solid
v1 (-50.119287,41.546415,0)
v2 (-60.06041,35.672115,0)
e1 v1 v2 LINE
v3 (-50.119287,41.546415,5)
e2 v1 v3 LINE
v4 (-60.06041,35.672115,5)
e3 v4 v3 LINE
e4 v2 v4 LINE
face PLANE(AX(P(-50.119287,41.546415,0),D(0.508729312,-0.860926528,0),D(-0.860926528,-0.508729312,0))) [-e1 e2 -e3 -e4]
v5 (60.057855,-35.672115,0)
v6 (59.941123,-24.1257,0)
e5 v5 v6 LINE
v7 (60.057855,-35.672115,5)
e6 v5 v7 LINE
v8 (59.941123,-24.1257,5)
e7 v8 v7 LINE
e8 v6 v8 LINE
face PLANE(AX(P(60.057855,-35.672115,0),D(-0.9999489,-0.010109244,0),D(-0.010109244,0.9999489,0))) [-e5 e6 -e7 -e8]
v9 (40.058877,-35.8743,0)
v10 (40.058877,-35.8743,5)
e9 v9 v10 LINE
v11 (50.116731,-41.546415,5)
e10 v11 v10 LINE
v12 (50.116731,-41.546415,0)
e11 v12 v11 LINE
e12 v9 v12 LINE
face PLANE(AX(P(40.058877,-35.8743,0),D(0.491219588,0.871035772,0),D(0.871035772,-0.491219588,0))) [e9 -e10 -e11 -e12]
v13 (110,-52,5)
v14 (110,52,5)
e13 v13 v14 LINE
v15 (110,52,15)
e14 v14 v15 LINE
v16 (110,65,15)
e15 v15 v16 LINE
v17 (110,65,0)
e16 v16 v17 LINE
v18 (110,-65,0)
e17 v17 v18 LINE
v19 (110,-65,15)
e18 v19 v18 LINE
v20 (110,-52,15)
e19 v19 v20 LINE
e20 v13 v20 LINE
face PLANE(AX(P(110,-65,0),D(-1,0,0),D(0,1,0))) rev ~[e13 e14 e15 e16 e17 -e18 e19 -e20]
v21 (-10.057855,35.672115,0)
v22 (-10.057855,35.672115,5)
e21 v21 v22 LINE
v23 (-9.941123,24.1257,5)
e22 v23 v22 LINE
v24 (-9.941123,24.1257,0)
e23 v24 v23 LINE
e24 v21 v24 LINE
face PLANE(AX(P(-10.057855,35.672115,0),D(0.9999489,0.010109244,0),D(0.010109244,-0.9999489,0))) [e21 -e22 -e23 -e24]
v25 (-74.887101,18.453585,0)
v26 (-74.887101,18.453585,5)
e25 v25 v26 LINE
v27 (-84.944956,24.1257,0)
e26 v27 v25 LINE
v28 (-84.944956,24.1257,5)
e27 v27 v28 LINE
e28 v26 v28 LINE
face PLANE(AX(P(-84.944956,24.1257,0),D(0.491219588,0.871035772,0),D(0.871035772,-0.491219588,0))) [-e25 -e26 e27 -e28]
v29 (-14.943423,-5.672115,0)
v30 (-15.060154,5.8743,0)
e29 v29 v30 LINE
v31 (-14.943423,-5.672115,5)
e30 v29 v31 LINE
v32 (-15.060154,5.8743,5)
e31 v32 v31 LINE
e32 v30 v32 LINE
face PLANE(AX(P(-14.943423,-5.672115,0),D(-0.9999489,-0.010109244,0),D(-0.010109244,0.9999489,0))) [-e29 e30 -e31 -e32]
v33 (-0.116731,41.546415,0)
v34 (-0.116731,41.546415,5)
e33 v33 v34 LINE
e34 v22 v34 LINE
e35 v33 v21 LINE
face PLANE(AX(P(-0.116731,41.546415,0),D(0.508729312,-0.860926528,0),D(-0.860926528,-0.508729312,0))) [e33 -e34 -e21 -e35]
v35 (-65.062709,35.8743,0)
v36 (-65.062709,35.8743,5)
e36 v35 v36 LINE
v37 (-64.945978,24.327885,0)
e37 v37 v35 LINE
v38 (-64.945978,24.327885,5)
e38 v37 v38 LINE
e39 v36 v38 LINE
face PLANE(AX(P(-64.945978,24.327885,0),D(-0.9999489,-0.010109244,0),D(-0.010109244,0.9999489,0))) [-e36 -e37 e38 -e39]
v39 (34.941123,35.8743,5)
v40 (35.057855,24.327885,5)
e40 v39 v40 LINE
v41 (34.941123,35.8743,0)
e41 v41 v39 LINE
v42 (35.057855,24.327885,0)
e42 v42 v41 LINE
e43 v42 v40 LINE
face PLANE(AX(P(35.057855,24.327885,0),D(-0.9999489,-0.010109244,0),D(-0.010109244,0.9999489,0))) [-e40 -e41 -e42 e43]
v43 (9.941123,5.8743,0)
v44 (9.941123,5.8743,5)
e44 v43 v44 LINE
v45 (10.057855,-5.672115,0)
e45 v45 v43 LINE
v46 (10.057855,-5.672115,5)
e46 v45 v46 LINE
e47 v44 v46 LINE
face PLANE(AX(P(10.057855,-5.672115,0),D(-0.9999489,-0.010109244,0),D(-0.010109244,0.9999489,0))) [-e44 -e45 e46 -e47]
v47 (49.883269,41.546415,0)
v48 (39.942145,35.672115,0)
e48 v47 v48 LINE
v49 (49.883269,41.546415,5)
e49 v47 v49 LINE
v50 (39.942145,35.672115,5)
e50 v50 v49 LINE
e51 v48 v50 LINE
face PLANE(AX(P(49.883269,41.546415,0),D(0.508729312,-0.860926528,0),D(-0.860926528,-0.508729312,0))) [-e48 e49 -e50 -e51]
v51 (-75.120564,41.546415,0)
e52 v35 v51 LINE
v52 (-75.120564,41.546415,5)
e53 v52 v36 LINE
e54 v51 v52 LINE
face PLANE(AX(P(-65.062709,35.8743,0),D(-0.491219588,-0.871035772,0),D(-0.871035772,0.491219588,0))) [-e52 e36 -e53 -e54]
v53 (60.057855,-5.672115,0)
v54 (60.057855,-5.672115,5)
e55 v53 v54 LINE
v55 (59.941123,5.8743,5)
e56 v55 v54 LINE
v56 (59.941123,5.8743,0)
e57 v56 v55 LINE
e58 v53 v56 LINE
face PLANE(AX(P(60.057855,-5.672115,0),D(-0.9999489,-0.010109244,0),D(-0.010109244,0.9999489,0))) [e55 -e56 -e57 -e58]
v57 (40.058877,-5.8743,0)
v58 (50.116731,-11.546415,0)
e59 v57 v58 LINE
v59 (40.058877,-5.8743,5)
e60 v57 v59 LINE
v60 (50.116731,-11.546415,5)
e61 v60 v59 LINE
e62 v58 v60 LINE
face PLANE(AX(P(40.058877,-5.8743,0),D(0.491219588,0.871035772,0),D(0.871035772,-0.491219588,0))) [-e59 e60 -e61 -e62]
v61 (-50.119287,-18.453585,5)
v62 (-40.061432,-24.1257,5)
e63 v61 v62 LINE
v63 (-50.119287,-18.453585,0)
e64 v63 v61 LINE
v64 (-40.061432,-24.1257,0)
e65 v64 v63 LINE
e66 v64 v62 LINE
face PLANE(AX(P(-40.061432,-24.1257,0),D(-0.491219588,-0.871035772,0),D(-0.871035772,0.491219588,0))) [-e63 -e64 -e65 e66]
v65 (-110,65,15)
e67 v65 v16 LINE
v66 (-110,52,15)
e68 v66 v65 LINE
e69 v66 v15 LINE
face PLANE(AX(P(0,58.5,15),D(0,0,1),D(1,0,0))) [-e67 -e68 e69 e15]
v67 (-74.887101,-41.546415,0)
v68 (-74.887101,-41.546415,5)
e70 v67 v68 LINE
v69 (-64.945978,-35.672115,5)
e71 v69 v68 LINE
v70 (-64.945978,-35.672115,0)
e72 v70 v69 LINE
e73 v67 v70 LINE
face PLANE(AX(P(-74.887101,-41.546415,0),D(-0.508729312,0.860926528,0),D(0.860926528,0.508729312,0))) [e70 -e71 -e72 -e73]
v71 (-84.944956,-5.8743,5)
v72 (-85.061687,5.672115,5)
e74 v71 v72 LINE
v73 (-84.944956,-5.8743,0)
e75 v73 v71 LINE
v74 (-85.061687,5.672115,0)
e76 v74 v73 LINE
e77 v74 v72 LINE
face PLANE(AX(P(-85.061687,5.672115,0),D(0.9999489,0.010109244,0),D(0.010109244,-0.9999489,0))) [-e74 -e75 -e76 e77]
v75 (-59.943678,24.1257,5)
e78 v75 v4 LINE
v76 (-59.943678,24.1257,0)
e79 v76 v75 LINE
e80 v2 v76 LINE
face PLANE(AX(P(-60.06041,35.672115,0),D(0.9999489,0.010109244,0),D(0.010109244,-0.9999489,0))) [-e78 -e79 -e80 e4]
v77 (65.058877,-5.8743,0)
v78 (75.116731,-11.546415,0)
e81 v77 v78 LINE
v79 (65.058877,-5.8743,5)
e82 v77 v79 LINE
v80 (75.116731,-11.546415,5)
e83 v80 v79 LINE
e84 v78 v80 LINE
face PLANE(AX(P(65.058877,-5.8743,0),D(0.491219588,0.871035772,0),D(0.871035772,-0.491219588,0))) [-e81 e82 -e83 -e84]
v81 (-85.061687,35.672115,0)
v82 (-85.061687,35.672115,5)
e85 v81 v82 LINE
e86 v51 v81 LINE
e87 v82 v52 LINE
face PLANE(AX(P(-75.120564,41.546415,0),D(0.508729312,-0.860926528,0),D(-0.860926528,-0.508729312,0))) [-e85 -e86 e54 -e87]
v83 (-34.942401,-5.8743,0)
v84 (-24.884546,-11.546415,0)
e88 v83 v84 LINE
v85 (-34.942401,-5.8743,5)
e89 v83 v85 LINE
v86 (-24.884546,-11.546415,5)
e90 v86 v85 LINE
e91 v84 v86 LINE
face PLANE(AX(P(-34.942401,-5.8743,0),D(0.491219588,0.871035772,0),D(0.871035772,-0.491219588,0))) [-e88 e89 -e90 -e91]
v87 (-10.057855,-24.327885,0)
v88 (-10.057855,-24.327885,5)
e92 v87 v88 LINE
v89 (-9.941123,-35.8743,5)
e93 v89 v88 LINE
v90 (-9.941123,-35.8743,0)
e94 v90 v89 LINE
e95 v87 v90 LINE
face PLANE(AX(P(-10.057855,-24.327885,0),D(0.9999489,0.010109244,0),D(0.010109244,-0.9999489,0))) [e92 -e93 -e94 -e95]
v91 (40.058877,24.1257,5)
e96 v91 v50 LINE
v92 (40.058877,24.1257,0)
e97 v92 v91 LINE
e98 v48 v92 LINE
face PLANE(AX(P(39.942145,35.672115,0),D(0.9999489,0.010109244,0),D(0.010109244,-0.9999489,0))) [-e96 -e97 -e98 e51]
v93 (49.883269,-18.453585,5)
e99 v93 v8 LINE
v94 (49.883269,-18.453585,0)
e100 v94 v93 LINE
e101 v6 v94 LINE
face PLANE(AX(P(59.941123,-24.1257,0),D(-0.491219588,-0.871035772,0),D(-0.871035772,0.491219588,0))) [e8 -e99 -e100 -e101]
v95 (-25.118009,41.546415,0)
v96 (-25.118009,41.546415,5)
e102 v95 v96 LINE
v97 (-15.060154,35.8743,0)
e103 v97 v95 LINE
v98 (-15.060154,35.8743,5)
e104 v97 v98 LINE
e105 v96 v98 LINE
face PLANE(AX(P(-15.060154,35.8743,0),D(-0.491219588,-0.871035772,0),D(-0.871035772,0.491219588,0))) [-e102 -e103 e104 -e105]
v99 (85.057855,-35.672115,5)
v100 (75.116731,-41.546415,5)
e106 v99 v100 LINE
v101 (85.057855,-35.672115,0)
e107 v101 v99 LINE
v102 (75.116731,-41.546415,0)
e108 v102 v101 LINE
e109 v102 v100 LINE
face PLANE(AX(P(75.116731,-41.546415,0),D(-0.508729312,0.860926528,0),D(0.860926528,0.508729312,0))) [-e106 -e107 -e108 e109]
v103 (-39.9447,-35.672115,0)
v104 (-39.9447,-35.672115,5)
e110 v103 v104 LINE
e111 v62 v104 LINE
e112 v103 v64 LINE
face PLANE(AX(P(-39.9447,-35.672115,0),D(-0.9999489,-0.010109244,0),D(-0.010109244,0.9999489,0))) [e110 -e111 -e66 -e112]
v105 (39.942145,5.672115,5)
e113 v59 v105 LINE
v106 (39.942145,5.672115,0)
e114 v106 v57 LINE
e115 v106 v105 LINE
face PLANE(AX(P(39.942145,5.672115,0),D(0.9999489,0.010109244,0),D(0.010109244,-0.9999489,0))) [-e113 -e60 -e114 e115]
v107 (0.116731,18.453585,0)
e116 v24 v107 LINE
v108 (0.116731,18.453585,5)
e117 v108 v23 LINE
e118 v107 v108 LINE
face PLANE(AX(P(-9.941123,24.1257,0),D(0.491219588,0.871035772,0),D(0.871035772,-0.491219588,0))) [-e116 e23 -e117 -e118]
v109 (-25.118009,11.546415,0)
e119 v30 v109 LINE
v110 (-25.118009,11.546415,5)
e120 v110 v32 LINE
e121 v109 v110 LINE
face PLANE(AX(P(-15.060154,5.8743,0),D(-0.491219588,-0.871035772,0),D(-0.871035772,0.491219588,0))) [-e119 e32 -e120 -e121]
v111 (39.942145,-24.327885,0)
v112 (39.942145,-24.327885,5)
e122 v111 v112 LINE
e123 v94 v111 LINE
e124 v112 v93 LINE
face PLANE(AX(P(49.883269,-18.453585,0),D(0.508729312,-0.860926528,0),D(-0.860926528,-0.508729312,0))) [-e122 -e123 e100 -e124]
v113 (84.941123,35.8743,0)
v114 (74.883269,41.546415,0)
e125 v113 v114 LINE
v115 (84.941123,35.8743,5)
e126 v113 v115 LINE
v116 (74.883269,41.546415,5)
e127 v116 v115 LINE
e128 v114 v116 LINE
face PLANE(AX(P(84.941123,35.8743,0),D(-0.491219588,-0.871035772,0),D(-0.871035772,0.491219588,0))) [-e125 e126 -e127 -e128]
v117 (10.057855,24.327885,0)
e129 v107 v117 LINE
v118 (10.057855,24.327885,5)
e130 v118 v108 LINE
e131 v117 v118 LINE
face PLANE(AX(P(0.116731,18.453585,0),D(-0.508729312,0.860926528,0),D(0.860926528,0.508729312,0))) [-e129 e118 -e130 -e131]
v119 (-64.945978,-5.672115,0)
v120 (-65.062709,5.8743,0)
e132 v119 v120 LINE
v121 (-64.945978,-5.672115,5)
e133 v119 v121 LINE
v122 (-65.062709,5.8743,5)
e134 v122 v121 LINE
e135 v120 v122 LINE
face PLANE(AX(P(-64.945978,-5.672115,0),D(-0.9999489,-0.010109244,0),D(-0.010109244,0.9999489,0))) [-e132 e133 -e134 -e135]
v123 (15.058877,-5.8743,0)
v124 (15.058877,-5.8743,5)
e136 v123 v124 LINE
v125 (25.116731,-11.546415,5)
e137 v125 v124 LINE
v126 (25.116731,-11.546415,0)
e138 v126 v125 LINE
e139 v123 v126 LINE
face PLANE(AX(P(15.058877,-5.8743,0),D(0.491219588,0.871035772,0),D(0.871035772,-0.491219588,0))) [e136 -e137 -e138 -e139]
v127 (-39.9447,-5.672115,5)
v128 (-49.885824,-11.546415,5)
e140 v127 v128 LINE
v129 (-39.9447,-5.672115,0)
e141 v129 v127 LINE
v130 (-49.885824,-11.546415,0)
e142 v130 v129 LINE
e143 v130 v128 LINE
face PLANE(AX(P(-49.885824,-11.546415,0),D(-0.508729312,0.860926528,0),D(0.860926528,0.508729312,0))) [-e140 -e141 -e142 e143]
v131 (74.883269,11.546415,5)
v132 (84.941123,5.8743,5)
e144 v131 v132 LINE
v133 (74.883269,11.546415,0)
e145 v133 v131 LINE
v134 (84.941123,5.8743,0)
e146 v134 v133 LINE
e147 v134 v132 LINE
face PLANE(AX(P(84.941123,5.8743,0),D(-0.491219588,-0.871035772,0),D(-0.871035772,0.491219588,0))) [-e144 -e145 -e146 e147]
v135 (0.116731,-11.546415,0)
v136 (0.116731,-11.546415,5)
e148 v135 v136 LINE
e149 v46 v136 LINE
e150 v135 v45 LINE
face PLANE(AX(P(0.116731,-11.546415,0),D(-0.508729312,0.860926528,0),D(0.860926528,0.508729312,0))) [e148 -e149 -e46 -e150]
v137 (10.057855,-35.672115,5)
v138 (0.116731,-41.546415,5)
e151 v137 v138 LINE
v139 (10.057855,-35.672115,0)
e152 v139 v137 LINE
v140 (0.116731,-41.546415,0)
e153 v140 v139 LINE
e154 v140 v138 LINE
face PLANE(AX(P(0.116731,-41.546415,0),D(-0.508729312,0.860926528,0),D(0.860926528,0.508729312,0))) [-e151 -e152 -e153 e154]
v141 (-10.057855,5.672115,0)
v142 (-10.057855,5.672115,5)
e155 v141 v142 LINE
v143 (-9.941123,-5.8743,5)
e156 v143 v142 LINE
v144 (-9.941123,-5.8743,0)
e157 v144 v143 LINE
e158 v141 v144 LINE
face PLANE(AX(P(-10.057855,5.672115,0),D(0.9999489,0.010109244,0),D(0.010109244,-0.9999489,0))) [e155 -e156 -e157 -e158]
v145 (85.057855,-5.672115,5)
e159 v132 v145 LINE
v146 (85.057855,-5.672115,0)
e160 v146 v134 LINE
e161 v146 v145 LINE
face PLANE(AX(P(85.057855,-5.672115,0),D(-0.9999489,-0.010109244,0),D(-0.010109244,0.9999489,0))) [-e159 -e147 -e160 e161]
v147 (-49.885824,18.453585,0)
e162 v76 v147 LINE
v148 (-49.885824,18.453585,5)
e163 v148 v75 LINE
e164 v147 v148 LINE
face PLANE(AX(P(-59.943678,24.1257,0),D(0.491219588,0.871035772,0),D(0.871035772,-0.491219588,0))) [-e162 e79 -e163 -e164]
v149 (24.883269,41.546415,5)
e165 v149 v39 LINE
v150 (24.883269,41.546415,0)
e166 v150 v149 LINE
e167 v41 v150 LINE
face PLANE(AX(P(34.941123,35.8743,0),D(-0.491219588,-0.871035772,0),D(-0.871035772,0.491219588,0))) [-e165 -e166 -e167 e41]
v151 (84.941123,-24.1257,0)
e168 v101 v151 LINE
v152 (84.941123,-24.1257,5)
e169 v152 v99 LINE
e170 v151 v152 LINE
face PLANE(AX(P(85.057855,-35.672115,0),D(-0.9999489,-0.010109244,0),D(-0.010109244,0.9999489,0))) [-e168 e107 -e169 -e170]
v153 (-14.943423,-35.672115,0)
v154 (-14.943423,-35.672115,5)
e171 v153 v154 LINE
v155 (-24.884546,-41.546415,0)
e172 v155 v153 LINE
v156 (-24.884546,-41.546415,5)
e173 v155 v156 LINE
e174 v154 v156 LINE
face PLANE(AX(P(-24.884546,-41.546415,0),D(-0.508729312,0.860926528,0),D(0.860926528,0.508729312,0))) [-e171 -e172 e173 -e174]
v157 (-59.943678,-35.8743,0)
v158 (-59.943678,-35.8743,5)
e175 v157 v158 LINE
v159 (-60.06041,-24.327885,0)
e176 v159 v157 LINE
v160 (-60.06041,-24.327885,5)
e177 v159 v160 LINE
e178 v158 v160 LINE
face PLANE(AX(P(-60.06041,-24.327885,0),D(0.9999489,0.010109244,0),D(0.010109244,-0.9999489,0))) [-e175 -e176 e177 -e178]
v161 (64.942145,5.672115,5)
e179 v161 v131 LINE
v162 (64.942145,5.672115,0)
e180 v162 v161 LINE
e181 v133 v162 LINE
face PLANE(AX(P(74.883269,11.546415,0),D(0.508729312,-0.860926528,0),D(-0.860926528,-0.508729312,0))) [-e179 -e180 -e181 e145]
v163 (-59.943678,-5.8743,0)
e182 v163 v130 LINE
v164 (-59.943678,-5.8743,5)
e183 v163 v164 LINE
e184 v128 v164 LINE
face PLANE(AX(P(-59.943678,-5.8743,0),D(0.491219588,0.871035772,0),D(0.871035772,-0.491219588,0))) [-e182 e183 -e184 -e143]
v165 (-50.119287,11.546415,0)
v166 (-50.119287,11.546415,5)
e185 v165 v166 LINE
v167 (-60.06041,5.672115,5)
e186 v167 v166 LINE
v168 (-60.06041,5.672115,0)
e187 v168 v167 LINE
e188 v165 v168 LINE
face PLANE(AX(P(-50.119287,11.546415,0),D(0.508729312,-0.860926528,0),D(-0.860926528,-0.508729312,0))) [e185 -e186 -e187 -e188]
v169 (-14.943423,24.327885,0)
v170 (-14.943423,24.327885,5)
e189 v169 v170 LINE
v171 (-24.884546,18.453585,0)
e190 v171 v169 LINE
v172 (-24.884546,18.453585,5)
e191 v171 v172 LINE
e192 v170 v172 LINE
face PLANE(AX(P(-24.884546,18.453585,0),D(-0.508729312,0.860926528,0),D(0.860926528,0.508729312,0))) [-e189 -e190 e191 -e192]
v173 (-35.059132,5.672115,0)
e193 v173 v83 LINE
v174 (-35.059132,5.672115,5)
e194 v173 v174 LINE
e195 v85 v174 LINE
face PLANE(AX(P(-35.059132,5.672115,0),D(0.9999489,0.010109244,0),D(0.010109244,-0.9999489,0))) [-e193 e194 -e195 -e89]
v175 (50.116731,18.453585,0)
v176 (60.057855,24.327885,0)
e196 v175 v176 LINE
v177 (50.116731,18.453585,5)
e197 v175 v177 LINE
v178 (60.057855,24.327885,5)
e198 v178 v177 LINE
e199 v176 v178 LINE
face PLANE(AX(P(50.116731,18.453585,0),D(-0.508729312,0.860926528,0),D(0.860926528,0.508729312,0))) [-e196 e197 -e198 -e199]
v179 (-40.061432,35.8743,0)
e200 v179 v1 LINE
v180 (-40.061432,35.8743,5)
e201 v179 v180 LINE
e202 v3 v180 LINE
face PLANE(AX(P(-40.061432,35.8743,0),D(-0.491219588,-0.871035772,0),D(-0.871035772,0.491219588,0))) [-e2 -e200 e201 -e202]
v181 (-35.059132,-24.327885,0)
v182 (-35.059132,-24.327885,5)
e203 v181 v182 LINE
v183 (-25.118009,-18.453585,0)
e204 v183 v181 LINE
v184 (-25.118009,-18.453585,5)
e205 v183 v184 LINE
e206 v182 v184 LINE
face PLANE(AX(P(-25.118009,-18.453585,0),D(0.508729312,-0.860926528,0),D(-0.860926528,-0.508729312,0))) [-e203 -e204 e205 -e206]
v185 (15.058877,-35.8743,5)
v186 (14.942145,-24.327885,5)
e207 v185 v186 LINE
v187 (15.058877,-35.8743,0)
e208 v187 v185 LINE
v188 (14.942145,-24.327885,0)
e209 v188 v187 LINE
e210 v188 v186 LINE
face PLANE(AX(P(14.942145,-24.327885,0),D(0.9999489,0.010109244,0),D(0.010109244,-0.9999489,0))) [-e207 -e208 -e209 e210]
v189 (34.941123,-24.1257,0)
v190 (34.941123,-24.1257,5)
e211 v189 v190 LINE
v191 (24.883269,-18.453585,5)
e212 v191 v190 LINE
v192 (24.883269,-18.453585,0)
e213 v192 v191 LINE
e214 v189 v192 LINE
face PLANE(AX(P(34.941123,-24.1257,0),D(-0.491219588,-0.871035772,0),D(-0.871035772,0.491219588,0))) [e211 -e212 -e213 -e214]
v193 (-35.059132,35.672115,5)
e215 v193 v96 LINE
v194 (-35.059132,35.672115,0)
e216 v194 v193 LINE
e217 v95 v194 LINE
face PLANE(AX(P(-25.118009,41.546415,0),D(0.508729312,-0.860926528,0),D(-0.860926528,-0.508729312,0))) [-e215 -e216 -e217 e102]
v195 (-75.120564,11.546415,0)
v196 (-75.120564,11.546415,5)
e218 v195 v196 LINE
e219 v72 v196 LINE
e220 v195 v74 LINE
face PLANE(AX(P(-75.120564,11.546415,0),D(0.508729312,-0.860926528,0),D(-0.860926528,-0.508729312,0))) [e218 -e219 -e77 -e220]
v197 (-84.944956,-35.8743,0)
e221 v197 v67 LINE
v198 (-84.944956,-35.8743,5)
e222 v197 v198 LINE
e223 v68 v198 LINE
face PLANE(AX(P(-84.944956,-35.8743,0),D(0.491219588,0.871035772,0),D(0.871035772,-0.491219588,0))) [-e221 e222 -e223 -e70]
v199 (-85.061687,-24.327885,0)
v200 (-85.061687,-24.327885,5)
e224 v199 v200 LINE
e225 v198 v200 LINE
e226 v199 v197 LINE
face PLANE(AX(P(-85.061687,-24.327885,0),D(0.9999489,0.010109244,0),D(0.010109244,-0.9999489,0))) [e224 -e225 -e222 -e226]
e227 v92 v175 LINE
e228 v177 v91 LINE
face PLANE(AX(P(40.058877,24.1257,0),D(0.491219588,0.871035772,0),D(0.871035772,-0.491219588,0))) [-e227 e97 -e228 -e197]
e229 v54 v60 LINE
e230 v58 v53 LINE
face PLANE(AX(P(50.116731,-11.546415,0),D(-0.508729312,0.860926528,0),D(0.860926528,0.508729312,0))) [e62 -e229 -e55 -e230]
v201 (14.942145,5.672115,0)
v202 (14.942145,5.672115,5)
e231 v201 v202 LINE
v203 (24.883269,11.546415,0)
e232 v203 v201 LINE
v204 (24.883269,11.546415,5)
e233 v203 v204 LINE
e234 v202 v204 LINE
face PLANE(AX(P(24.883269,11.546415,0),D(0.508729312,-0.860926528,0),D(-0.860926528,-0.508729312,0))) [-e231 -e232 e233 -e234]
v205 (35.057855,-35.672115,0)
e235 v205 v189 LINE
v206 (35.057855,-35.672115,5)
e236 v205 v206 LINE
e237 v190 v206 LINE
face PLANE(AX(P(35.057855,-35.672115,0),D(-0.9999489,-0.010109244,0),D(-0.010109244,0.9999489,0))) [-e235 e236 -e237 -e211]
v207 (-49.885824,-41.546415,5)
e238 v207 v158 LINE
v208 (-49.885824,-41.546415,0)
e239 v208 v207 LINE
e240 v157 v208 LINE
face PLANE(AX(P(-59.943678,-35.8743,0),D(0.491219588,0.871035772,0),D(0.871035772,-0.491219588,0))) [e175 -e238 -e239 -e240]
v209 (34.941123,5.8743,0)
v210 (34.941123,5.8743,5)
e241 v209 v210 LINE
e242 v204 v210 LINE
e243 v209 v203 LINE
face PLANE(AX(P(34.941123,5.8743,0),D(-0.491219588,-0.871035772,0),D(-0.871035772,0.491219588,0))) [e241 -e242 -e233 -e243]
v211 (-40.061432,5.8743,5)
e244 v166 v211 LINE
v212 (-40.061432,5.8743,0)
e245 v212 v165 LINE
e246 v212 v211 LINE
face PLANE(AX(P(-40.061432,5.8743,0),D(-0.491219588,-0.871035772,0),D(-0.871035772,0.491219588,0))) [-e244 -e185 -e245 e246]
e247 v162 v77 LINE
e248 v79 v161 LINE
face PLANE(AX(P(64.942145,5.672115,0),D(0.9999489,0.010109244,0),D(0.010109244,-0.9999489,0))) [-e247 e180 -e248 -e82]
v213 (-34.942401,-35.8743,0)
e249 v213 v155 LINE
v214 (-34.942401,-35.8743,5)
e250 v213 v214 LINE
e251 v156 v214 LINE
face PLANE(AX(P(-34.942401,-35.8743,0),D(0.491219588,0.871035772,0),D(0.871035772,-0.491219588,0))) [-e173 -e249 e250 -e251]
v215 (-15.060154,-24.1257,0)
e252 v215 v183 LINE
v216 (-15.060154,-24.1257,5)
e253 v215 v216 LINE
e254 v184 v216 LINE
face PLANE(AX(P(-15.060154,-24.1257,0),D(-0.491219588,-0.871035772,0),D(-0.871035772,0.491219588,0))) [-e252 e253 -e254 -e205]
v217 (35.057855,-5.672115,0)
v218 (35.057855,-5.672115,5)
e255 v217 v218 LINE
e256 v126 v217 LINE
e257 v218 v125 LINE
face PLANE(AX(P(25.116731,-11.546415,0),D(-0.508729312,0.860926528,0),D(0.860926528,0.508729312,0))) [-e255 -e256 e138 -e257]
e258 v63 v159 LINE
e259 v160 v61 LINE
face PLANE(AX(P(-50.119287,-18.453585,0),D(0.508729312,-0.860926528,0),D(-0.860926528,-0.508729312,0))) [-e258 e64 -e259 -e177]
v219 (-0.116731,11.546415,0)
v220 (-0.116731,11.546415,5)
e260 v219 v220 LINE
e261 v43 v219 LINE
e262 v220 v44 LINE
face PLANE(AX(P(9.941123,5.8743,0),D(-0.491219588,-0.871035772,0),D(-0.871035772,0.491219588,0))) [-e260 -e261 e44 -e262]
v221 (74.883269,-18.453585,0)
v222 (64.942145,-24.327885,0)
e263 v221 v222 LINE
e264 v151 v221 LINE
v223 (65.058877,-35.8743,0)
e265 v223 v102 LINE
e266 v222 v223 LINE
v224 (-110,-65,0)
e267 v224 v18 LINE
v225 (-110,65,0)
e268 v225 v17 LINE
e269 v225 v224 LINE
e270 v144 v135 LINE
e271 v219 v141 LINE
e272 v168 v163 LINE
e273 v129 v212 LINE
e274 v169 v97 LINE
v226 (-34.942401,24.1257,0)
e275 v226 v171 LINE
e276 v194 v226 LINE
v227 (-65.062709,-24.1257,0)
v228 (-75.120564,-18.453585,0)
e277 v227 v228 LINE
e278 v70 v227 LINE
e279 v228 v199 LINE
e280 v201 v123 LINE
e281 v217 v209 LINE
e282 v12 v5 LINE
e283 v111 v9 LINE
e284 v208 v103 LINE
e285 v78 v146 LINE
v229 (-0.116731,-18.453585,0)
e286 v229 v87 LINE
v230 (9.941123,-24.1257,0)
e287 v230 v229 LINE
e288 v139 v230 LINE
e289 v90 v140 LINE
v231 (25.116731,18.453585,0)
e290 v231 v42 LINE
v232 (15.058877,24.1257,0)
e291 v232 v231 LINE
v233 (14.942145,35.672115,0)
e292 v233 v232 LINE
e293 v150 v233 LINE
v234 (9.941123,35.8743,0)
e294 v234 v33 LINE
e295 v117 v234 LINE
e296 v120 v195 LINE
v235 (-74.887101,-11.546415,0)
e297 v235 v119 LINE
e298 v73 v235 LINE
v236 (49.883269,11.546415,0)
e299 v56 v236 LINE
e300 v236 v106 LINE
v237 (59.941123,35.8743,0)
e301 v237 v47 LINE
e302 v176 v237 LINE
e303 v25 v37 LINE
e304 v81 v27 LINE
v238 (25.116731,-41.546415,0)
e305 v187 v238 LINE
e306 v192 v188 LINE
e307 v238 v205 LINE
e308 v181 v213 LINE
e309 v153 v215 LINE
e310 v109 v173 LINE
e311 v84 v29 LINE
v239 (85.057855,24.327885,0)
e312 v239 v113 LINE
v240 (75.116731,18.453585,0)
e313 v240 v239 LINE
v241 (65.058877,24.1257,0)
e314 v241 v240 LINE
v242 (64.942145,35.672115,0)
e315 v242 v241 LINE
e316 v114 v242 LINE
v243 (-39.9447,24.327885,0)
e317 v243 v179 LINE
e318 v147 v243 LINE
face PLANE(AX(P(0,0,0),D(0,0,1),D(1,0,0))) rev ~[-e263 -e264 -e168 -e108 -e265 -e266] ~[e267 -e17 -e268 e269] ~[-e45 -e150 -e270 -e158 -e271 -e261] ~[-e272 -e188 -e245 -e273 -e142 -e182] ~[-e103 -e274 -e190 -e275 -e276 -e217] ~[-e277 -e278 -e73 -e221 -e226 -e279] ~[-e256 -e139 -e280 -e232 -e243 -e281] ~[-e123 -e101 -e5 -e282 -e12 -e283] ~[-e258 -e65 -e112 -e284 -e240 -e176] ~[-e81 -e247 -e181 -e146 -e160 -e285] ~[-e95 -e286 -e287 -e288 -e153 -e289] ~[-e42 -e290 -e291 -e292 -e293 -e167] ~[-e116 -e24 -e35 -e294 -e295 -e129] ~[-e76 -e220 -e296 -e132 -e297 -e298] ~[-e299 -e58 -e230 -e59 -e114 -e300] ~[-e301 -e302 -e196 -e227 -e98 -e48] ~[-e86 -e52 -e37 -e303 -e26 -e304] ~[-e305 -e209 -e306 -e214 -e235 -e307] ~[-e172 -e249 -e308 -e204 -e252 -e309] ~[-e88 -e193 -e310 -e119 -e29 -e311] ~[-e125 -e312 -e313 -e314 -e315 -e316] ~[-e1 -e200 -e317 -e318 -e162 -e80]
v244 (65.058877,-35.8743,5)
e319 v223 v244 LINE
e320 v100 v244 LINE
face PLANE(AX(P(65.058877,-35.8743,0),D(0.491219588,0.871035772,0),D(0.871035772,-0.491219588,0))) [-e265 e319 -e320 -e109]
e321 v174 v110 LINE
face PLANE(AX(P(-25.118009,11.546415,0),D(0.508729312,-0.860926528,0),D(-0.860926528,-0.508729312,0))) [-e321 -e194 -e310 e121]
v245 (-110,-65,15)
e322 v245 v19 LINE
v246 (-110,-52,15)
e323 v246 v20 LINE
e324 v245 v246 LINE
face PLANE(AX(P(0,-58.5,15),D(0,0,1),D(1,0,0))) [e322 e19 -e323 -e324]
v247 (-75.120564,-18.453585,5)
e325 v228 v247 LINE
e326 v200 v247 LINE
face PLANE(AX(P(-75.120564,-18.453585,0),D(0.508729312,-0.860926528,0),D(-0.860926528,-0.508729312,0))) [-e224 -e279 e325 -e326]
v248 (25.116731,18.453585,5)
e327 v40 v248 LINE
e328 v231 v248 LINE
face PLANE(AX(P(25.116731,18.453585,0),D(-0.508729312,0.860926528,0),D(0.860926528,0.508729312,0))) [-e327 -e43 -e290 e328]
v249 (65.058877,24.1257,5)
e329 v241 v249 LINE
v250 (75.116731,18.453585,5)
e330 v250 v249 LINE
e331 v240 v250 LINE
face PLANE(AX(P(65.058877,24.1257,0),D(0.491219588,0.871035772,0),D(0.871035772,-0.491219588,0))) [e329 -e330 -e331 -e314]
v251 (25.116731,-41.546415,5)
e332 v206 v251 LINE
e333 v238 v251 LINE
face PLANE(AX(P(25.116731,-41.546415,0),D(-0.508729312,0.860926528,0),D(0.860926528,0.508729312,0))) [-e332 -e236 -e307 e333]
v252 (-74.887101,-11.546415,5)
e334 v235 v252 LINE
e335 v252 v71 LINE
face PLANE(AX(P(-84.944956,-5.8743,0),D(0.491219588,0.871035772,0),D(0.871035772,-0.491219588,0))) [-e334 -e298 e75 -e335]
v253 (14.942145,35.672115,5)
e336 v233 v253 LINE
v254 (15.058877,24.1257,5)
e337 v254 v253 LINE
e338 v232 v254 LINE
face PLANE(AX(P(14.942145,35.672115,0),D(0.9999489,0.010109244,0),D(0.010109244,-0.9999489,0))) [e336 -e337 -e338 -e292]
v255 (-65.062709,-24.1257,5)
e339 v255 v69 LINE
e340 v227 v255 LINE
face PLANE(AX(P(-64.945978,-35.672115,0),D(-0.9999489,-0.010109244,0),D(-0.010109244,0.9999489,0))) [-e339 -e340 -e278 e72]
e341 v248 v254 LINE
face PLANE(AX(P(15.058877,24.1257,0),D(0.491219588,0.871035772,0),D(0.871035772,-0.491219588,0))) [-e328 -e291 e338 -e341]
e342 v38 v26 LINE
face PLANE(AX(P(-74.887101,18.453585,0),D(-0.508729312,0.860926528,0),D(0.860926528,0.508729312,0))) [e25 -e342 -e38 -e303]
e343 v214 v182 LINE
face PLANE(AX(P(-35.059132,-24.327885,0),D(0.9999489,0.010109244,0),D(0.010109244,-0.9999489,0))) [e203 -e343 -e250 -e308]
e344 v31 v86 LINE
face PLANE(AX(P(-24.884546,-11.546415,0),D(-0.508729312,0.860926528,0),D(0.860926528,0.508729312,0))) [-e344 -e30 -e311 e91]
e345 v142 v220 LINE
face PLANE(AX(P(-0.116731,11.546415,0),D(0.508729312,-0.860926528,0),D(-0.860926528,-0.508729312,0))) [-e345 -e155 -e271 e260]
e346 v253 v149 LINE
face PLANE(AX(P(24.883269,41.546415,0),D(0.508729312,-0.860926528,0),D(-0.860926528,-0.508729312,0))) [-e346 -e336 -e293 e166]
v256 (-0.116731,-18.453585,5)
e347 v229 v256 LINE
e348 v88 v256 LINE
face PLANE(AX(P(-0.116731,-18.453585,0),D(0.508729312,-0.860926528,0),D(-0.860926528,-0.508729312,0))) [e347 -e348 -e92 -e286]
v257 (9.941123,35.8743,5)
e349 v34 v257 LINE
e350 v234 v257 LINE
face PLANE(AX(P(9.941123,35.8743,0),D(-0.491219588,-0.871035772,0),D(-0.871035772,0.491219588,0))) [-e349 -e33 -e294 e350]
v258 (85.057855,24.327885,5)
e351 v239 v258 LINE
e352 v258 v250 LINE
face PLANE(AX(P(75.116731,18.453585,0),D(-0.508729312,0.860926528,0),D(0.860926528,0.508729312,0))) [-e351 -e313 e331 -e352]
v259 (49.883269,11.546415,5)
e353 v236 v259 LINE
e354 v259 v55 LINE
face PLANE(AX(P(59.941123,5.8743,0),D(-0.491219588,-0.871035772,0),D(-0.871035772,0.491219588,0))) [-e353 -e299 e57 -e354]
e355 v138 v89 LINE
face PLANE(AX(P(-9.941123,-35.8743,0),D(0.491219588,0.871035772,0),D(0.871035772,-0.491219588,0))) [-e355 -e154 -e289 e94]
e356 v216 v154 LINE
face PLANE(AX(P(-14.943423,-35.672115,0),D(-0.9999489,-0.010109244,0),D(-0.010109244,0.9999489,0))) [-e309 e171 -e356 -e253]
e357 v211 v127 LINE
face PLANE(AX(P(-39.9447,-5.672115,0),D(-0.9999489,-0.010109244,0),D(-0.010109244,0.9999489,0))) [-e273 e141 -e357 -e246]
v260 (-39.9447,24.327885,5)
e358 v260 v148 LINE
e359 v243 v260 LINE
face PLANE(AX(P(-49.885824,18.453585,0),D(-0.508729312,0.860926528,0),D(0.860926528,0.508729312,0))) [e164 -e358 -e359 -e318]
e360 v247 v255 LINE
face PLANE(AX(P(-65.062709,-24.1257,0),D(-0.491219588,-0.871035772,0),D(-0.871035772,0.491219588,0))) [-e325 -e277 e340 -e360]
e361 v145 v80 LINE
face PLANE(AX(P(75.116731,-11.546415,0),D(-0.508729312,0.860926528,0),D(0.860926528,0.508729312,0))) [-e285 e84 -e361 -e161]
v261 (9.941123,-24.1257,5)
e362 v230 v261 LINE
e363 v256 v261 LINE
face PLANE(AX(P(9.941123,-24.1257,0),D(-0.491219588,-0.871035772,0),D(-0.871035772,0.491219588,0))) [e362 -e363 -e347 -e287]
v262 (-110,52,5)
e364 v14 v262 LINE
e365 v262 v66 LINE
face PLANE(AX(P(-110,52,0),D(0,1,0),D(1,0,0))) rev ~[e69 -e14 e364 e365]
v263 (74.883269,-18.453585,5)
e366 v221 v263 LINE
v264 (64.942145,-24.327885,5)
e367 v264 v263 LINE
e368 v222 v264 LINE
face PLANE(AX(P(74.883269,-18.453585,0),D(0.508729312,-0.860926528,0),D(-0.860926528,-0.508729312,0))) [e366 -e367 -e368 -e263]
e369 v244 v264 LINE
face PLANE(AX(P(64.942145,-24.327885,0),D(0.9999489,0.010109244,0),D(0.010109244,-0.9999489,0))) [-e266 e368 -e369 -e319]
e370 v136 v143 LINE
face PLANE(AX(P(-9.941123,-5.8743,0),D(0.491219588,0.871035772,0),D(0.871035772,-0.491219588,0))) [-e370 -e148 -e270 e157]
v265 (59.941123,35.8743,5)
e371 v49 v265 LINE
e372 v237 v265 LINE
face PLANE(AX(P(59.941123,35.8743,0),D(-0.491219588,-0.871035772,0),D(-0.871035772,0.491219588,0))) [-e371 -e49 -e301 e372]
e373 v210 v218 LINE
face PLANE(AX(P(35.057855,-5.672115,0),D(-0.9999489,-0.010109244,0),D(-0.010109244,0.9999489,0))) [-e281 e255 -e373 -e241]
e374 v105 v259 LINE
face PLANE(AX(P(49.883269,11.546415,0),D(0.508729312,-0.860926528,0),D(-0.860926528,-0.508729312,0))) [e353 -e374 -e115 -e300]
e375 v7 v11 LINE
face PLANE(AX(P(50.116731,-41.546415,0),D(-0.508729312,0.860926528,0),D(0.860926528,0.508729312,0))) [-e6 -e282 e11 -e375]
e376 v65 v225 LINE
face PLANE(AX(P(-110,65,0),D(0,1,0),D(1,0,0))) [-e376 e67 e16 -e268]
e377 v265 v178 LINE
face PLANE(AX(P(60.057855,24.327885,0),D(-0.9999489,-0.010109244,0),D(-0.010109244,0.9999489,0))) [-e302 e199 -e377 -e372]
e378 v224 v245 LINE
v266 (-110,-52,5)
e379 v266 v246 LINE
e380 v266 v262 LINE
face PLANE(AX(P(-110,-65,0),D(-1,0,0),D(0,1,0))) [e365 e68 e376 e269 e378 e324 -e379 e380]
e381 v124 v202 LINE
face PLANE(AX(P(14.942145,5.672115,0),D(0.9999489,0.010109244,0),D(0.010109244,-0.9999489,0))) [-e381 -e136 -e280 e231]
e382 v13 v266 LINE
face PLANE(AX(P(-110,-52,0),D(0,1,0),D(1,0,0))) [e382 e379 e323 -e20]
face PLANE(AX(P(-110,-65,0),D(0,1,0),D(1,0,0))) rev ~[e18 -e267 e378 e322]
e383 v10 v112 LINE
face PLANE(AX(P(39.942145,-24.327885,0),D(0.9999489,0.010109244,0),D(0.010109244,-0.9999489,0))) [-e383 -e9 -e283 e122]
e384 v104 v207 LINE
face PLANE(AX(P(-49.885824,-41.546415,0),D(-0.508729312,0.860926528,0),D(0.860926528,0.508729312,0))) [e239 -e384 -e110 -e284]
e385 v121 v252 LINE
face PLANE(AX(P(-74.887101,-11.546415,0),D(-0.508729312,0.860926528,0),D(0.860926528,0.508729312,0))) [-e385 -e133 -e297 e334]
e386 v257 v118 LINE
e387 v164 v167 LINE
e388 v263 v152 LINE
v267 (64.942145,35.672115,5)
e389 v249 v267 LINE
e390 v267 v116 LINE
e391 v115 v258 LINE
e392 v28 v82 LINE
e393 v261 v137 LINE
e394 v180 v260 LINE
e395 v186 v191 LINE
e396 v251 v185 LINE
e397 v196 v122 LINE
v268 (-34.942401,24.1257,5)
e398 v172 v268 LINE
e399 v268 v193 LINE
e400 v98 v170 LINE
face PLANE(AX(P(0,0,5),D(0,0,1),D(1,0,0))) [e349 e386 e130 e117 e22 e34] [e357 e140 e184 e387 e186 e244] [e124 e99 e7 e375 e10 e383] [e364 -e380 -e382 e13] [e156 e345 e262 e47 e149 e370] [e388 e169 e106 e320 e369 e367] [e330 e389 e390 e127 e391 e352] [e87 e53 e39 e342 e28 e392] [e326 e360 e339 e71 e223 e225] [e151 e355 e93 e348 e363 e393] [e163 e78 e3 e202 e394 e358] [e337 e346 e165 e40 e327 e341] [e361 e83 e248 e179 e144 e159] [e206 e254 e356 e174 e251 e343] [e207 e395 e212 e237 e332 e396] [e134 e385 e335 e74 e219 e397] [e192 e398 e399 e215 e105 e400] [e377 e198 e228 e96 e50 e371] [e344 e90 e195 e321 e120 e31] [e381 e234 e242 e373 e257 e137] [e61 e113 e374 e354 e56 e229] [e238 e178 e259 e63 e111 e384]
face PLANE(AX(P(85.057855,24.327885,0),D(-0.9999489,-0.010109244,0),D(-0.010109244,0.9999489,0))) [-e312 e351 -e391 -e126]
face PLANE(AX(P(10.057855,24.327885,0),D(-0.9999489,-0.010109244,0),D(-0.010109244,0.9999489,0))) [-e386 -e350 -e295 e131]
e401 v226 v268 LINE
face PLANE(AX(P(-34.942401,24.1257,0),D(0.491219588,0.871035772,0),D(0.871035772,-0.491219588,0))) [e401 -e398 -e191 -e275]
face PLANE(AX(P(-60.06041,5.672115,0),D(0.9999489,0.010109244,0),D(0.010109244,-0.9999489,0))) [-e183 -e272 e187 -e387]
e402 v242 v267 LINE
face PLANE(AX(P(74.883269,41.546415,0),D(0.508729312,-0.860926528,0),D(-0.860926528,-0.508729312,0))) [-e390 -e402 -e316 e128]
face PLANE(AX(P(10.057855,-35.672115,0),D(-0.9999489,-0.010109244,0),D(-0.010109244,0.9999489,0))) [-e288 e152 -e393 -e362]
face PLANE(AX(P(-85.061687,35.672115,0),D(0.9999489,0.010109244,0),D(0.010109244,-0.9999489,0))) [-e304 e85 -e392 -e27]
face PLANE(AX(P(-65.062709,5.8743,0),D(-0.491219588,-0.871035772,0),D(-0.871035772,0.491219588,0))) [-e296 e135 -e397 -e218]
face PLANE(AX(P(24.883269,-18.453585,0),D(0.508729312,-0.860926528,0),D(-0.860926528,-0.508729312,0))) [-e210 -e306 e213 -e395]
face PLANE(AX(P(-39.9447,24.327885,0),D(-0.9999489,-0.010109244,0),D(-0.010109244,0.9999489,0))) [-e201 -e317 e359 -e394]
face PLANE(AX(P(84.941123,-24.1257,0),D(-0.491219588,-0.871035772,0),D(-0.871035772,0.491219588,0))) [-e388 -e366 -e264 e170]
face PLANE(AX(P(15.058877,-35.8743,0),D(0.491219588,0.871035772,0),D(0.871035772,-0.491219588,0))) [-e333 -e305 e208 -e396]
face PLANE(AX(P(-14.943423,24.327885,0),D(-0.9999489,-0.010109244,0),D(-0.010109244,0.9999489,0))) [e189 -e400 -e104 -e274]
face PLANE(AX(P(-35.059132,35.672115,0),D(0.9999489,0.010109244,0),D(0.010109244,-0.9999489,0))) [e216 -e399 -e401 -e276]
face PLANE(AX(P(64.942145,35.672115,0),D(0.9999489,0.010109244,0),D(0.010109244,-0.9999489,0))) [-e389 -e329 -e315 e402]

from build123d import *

# Parameters (mm, degrees)
SKETCH_3_W          = 220
SKETCH_3_H          = 130
EXTRUDE_1_DEPTH     = 5
CUT_EXTRUDE_1_DEPTH = 128.867118525
SKETCH_3_4_W        = 220
SKETCH_3_4_H        = 13
EXTRUDE_2_DEPTH     = 15


with BuildPart() as part:
    # Эскиз3 → Бобышка-Вытянуть1 (new body)
    with BuildSketch(Plane.XY):
        Rectangle(SKETCH_3_W, SKETCH_3_H)
    extrude(amount=EXTRUDE_1_DEPTH)

    # Эскиз3<3> → Вырез-Вытянуть1 (cut, through all)
    with BuildSketch(Plane.XY):
        Polygon((35.057854749, -5.672115229), (34.941123256, 5.874300106), (24.883268507, 11.546415335), (14.942145251, 5.672115229), (15.058876744, -5.874300106), (25.116731493, -11.546415335), align=None)
        Polygon((10.057854749, -5.672115229), (9.941123256, 5.874300106), (-0.116731493, 11.546415335), (-10.057854749, 5.672115229), (-9.941123256, -5.874300106), (0.116731493, -11.546415335), align=None)
        Polygon((60.057854749, -5.672115229), (59.941123256, 5.874300106), (49.883268507, 11.546415335), (39.942145251, 5.672115229), (40.058876744, -5.874300106), (50.116731493, -11.546415335), align=None)
        Polygon((85.057854749, -5.672115229), (84.941123256, 5.874300106), (74.883268507, 11.546415335), (64.942145251, 5.672115229), (65.058876744, -5.874300106), (75.116731493, -11.546415335), align=None)
        Polygon((-14.943422809, -5.672115229), (-15.060154302, 5.874300106), (-25.118009051, 11.546415335), (-35.059132307, 5.672115229), (-34.942400814, -5.874300106), (-24.884546065, -11.546415335), align=None)
        Polygon((-39.944700367, -5.672115229), (-40.06143186, 5.874300106), (-50.119286609, 11.546415335), (-60.060409866, 5.672115229), (-59.943678372, -5.874300106), (-49.885823623, -11.546415335), align=None)
        Polygon((-64.945977925, -5.672115229), (-65.062709418, 5.874300106), (-75.120564167, 11.546415335), (-85.061687424, 5.672115229), (-84.944955931, -5.874300106), (-74.887101181, -11.546415335), align=None)
        Polygon((-64.945977925, 24.327884771), (-65.062709418, 35.874300106), (-75.120564167, 41.546415335), (-85.061687424, 35.672115229), (-84.944955931, 24.125699894), (-74.887101181, 18.453584665), align=None)
        Polygon((-39.944700367, 24.327884771), (-40.06143186, 35.874300106), (-50.119286609, 41.546415335), (-60.060409866, 35.672115229), (-59.943678372, 24.125699894), (-49.885823623, 18.453584665), align=None)
        Polygon((-14.943422809, 24.327884771), (-15.060154302, 35.874300106), (-25.118009051, 41.546415335), (-35.059132307, 35.672115229), (-34.942400814, 24.125699894), (-24.884546065, 18.453584665), align=None)
        Polygon((10.057854749, 24.327884771), (9.941123256, 35.874300106), (-0.116731493, 41.546415335), (-10.057854749, 35.672115229), (-9.941123256, 24.125699894), (0.116731493, 18.453584665), align=None)
        Polygon((35.057854749, 24.327884771), (34.941123256, 35.874300106), (24.883268507, 41.546415335), (14.942145251, 35.672115229), (15.058876744, 24.125699894), (25.116731493, 18.453584665), align=None)
        Polygon((60.057854749, 24.327884771), (59.941123256, 35.874300106), (49.883268507, 41.546415335), (39.942145251, 35.672115229), (40.058876744, 24.125699894), (50.116731493, 18.453584665), align=None)
        Polygon((85.057854749, 24.327884771), (84.941123256, 35.874300106), (74.883268507, 41.546415335), (64.942145251, 35.672115229), (65.058876744, 24.125699894), (75.116731493, 18.453584665), align=None)
        Polygon((-39.944700367, -35.672115229), (-40.06143186, -24.125699894), (-50.119286609, -18.453584665), (-60.060409866, -24.327884771), (-59.943678372, -35.874300106), (-49.885823623, -41.546415335), align=None)
        Polygon((-14.943422809, -35.672115229), (-15.060154302, -24.125699894), (-25.118009051, -18.453584665), (-35.059132307, -24.327884771), (-34.942400814, -35.874300106), (-24.884546065, -41.546415335), align=None)
        Polygon((-64.945977925, -35.672115229), (-65.062709418, -24.125699894), (-75.120564167, -18.453584665), (-85.061687424, -24.327884771), (-84.944955931, -35.874300106), (-74.887101181, -41.546415335), align=None)
        Polygon((10.057854749, -35.672115229), (9.941123256, -24.125699894), (-0.116731493, -18.453584665), (-10.057854749, -24.327884771), (-9.941123256, -35.874300106), (0.116731493, -41.546415335), align=None)
        Polygon((35.057854749, -35.672115229), (34.941123256, -24.125699894), (24.883268507, -18.453584665), (14.942145251, -24.327884771), (15.058876744, -35.874300106), (25.116731493, -41.546415335), align=None)
        Polygon((60.057854749, -35.672115229), (59.941123256, -24.125699894), (49.883268507, -18.453584665), (39.942145251, -24.327884771), (40.058876744, -35.874300106), (50.116731493, -41.546415335), align=None)
        Polygon((75.116731493, -41.546415335), (85.057854749, -35.672115229), (84.941123256, -24.125699894), (74.883268507, -18.453584665), (64.942145251, -24.327884771), (65.058876744, -35.874300106), align=None)
    extrude(amount=CUT_EXTRUDE_1_DEPTH, mode=Mode.SUBTRACT)

    # Эскиз3<4> → Бобышка-Вытянуть2 (add)
    with BuildSketch(Plane.XY):
        with Locations((0, -58.5)):
            Rectangle(SKETCH_3_4_W, SKETCH_3_4_H)
        with Locations((0, 58.5)):
            Rectangle(SKETCH_3_4_W, SKETCH_3_4_H)
    extrude(amount=EXTRUDE_2_DEPTH)


solid = part.part
